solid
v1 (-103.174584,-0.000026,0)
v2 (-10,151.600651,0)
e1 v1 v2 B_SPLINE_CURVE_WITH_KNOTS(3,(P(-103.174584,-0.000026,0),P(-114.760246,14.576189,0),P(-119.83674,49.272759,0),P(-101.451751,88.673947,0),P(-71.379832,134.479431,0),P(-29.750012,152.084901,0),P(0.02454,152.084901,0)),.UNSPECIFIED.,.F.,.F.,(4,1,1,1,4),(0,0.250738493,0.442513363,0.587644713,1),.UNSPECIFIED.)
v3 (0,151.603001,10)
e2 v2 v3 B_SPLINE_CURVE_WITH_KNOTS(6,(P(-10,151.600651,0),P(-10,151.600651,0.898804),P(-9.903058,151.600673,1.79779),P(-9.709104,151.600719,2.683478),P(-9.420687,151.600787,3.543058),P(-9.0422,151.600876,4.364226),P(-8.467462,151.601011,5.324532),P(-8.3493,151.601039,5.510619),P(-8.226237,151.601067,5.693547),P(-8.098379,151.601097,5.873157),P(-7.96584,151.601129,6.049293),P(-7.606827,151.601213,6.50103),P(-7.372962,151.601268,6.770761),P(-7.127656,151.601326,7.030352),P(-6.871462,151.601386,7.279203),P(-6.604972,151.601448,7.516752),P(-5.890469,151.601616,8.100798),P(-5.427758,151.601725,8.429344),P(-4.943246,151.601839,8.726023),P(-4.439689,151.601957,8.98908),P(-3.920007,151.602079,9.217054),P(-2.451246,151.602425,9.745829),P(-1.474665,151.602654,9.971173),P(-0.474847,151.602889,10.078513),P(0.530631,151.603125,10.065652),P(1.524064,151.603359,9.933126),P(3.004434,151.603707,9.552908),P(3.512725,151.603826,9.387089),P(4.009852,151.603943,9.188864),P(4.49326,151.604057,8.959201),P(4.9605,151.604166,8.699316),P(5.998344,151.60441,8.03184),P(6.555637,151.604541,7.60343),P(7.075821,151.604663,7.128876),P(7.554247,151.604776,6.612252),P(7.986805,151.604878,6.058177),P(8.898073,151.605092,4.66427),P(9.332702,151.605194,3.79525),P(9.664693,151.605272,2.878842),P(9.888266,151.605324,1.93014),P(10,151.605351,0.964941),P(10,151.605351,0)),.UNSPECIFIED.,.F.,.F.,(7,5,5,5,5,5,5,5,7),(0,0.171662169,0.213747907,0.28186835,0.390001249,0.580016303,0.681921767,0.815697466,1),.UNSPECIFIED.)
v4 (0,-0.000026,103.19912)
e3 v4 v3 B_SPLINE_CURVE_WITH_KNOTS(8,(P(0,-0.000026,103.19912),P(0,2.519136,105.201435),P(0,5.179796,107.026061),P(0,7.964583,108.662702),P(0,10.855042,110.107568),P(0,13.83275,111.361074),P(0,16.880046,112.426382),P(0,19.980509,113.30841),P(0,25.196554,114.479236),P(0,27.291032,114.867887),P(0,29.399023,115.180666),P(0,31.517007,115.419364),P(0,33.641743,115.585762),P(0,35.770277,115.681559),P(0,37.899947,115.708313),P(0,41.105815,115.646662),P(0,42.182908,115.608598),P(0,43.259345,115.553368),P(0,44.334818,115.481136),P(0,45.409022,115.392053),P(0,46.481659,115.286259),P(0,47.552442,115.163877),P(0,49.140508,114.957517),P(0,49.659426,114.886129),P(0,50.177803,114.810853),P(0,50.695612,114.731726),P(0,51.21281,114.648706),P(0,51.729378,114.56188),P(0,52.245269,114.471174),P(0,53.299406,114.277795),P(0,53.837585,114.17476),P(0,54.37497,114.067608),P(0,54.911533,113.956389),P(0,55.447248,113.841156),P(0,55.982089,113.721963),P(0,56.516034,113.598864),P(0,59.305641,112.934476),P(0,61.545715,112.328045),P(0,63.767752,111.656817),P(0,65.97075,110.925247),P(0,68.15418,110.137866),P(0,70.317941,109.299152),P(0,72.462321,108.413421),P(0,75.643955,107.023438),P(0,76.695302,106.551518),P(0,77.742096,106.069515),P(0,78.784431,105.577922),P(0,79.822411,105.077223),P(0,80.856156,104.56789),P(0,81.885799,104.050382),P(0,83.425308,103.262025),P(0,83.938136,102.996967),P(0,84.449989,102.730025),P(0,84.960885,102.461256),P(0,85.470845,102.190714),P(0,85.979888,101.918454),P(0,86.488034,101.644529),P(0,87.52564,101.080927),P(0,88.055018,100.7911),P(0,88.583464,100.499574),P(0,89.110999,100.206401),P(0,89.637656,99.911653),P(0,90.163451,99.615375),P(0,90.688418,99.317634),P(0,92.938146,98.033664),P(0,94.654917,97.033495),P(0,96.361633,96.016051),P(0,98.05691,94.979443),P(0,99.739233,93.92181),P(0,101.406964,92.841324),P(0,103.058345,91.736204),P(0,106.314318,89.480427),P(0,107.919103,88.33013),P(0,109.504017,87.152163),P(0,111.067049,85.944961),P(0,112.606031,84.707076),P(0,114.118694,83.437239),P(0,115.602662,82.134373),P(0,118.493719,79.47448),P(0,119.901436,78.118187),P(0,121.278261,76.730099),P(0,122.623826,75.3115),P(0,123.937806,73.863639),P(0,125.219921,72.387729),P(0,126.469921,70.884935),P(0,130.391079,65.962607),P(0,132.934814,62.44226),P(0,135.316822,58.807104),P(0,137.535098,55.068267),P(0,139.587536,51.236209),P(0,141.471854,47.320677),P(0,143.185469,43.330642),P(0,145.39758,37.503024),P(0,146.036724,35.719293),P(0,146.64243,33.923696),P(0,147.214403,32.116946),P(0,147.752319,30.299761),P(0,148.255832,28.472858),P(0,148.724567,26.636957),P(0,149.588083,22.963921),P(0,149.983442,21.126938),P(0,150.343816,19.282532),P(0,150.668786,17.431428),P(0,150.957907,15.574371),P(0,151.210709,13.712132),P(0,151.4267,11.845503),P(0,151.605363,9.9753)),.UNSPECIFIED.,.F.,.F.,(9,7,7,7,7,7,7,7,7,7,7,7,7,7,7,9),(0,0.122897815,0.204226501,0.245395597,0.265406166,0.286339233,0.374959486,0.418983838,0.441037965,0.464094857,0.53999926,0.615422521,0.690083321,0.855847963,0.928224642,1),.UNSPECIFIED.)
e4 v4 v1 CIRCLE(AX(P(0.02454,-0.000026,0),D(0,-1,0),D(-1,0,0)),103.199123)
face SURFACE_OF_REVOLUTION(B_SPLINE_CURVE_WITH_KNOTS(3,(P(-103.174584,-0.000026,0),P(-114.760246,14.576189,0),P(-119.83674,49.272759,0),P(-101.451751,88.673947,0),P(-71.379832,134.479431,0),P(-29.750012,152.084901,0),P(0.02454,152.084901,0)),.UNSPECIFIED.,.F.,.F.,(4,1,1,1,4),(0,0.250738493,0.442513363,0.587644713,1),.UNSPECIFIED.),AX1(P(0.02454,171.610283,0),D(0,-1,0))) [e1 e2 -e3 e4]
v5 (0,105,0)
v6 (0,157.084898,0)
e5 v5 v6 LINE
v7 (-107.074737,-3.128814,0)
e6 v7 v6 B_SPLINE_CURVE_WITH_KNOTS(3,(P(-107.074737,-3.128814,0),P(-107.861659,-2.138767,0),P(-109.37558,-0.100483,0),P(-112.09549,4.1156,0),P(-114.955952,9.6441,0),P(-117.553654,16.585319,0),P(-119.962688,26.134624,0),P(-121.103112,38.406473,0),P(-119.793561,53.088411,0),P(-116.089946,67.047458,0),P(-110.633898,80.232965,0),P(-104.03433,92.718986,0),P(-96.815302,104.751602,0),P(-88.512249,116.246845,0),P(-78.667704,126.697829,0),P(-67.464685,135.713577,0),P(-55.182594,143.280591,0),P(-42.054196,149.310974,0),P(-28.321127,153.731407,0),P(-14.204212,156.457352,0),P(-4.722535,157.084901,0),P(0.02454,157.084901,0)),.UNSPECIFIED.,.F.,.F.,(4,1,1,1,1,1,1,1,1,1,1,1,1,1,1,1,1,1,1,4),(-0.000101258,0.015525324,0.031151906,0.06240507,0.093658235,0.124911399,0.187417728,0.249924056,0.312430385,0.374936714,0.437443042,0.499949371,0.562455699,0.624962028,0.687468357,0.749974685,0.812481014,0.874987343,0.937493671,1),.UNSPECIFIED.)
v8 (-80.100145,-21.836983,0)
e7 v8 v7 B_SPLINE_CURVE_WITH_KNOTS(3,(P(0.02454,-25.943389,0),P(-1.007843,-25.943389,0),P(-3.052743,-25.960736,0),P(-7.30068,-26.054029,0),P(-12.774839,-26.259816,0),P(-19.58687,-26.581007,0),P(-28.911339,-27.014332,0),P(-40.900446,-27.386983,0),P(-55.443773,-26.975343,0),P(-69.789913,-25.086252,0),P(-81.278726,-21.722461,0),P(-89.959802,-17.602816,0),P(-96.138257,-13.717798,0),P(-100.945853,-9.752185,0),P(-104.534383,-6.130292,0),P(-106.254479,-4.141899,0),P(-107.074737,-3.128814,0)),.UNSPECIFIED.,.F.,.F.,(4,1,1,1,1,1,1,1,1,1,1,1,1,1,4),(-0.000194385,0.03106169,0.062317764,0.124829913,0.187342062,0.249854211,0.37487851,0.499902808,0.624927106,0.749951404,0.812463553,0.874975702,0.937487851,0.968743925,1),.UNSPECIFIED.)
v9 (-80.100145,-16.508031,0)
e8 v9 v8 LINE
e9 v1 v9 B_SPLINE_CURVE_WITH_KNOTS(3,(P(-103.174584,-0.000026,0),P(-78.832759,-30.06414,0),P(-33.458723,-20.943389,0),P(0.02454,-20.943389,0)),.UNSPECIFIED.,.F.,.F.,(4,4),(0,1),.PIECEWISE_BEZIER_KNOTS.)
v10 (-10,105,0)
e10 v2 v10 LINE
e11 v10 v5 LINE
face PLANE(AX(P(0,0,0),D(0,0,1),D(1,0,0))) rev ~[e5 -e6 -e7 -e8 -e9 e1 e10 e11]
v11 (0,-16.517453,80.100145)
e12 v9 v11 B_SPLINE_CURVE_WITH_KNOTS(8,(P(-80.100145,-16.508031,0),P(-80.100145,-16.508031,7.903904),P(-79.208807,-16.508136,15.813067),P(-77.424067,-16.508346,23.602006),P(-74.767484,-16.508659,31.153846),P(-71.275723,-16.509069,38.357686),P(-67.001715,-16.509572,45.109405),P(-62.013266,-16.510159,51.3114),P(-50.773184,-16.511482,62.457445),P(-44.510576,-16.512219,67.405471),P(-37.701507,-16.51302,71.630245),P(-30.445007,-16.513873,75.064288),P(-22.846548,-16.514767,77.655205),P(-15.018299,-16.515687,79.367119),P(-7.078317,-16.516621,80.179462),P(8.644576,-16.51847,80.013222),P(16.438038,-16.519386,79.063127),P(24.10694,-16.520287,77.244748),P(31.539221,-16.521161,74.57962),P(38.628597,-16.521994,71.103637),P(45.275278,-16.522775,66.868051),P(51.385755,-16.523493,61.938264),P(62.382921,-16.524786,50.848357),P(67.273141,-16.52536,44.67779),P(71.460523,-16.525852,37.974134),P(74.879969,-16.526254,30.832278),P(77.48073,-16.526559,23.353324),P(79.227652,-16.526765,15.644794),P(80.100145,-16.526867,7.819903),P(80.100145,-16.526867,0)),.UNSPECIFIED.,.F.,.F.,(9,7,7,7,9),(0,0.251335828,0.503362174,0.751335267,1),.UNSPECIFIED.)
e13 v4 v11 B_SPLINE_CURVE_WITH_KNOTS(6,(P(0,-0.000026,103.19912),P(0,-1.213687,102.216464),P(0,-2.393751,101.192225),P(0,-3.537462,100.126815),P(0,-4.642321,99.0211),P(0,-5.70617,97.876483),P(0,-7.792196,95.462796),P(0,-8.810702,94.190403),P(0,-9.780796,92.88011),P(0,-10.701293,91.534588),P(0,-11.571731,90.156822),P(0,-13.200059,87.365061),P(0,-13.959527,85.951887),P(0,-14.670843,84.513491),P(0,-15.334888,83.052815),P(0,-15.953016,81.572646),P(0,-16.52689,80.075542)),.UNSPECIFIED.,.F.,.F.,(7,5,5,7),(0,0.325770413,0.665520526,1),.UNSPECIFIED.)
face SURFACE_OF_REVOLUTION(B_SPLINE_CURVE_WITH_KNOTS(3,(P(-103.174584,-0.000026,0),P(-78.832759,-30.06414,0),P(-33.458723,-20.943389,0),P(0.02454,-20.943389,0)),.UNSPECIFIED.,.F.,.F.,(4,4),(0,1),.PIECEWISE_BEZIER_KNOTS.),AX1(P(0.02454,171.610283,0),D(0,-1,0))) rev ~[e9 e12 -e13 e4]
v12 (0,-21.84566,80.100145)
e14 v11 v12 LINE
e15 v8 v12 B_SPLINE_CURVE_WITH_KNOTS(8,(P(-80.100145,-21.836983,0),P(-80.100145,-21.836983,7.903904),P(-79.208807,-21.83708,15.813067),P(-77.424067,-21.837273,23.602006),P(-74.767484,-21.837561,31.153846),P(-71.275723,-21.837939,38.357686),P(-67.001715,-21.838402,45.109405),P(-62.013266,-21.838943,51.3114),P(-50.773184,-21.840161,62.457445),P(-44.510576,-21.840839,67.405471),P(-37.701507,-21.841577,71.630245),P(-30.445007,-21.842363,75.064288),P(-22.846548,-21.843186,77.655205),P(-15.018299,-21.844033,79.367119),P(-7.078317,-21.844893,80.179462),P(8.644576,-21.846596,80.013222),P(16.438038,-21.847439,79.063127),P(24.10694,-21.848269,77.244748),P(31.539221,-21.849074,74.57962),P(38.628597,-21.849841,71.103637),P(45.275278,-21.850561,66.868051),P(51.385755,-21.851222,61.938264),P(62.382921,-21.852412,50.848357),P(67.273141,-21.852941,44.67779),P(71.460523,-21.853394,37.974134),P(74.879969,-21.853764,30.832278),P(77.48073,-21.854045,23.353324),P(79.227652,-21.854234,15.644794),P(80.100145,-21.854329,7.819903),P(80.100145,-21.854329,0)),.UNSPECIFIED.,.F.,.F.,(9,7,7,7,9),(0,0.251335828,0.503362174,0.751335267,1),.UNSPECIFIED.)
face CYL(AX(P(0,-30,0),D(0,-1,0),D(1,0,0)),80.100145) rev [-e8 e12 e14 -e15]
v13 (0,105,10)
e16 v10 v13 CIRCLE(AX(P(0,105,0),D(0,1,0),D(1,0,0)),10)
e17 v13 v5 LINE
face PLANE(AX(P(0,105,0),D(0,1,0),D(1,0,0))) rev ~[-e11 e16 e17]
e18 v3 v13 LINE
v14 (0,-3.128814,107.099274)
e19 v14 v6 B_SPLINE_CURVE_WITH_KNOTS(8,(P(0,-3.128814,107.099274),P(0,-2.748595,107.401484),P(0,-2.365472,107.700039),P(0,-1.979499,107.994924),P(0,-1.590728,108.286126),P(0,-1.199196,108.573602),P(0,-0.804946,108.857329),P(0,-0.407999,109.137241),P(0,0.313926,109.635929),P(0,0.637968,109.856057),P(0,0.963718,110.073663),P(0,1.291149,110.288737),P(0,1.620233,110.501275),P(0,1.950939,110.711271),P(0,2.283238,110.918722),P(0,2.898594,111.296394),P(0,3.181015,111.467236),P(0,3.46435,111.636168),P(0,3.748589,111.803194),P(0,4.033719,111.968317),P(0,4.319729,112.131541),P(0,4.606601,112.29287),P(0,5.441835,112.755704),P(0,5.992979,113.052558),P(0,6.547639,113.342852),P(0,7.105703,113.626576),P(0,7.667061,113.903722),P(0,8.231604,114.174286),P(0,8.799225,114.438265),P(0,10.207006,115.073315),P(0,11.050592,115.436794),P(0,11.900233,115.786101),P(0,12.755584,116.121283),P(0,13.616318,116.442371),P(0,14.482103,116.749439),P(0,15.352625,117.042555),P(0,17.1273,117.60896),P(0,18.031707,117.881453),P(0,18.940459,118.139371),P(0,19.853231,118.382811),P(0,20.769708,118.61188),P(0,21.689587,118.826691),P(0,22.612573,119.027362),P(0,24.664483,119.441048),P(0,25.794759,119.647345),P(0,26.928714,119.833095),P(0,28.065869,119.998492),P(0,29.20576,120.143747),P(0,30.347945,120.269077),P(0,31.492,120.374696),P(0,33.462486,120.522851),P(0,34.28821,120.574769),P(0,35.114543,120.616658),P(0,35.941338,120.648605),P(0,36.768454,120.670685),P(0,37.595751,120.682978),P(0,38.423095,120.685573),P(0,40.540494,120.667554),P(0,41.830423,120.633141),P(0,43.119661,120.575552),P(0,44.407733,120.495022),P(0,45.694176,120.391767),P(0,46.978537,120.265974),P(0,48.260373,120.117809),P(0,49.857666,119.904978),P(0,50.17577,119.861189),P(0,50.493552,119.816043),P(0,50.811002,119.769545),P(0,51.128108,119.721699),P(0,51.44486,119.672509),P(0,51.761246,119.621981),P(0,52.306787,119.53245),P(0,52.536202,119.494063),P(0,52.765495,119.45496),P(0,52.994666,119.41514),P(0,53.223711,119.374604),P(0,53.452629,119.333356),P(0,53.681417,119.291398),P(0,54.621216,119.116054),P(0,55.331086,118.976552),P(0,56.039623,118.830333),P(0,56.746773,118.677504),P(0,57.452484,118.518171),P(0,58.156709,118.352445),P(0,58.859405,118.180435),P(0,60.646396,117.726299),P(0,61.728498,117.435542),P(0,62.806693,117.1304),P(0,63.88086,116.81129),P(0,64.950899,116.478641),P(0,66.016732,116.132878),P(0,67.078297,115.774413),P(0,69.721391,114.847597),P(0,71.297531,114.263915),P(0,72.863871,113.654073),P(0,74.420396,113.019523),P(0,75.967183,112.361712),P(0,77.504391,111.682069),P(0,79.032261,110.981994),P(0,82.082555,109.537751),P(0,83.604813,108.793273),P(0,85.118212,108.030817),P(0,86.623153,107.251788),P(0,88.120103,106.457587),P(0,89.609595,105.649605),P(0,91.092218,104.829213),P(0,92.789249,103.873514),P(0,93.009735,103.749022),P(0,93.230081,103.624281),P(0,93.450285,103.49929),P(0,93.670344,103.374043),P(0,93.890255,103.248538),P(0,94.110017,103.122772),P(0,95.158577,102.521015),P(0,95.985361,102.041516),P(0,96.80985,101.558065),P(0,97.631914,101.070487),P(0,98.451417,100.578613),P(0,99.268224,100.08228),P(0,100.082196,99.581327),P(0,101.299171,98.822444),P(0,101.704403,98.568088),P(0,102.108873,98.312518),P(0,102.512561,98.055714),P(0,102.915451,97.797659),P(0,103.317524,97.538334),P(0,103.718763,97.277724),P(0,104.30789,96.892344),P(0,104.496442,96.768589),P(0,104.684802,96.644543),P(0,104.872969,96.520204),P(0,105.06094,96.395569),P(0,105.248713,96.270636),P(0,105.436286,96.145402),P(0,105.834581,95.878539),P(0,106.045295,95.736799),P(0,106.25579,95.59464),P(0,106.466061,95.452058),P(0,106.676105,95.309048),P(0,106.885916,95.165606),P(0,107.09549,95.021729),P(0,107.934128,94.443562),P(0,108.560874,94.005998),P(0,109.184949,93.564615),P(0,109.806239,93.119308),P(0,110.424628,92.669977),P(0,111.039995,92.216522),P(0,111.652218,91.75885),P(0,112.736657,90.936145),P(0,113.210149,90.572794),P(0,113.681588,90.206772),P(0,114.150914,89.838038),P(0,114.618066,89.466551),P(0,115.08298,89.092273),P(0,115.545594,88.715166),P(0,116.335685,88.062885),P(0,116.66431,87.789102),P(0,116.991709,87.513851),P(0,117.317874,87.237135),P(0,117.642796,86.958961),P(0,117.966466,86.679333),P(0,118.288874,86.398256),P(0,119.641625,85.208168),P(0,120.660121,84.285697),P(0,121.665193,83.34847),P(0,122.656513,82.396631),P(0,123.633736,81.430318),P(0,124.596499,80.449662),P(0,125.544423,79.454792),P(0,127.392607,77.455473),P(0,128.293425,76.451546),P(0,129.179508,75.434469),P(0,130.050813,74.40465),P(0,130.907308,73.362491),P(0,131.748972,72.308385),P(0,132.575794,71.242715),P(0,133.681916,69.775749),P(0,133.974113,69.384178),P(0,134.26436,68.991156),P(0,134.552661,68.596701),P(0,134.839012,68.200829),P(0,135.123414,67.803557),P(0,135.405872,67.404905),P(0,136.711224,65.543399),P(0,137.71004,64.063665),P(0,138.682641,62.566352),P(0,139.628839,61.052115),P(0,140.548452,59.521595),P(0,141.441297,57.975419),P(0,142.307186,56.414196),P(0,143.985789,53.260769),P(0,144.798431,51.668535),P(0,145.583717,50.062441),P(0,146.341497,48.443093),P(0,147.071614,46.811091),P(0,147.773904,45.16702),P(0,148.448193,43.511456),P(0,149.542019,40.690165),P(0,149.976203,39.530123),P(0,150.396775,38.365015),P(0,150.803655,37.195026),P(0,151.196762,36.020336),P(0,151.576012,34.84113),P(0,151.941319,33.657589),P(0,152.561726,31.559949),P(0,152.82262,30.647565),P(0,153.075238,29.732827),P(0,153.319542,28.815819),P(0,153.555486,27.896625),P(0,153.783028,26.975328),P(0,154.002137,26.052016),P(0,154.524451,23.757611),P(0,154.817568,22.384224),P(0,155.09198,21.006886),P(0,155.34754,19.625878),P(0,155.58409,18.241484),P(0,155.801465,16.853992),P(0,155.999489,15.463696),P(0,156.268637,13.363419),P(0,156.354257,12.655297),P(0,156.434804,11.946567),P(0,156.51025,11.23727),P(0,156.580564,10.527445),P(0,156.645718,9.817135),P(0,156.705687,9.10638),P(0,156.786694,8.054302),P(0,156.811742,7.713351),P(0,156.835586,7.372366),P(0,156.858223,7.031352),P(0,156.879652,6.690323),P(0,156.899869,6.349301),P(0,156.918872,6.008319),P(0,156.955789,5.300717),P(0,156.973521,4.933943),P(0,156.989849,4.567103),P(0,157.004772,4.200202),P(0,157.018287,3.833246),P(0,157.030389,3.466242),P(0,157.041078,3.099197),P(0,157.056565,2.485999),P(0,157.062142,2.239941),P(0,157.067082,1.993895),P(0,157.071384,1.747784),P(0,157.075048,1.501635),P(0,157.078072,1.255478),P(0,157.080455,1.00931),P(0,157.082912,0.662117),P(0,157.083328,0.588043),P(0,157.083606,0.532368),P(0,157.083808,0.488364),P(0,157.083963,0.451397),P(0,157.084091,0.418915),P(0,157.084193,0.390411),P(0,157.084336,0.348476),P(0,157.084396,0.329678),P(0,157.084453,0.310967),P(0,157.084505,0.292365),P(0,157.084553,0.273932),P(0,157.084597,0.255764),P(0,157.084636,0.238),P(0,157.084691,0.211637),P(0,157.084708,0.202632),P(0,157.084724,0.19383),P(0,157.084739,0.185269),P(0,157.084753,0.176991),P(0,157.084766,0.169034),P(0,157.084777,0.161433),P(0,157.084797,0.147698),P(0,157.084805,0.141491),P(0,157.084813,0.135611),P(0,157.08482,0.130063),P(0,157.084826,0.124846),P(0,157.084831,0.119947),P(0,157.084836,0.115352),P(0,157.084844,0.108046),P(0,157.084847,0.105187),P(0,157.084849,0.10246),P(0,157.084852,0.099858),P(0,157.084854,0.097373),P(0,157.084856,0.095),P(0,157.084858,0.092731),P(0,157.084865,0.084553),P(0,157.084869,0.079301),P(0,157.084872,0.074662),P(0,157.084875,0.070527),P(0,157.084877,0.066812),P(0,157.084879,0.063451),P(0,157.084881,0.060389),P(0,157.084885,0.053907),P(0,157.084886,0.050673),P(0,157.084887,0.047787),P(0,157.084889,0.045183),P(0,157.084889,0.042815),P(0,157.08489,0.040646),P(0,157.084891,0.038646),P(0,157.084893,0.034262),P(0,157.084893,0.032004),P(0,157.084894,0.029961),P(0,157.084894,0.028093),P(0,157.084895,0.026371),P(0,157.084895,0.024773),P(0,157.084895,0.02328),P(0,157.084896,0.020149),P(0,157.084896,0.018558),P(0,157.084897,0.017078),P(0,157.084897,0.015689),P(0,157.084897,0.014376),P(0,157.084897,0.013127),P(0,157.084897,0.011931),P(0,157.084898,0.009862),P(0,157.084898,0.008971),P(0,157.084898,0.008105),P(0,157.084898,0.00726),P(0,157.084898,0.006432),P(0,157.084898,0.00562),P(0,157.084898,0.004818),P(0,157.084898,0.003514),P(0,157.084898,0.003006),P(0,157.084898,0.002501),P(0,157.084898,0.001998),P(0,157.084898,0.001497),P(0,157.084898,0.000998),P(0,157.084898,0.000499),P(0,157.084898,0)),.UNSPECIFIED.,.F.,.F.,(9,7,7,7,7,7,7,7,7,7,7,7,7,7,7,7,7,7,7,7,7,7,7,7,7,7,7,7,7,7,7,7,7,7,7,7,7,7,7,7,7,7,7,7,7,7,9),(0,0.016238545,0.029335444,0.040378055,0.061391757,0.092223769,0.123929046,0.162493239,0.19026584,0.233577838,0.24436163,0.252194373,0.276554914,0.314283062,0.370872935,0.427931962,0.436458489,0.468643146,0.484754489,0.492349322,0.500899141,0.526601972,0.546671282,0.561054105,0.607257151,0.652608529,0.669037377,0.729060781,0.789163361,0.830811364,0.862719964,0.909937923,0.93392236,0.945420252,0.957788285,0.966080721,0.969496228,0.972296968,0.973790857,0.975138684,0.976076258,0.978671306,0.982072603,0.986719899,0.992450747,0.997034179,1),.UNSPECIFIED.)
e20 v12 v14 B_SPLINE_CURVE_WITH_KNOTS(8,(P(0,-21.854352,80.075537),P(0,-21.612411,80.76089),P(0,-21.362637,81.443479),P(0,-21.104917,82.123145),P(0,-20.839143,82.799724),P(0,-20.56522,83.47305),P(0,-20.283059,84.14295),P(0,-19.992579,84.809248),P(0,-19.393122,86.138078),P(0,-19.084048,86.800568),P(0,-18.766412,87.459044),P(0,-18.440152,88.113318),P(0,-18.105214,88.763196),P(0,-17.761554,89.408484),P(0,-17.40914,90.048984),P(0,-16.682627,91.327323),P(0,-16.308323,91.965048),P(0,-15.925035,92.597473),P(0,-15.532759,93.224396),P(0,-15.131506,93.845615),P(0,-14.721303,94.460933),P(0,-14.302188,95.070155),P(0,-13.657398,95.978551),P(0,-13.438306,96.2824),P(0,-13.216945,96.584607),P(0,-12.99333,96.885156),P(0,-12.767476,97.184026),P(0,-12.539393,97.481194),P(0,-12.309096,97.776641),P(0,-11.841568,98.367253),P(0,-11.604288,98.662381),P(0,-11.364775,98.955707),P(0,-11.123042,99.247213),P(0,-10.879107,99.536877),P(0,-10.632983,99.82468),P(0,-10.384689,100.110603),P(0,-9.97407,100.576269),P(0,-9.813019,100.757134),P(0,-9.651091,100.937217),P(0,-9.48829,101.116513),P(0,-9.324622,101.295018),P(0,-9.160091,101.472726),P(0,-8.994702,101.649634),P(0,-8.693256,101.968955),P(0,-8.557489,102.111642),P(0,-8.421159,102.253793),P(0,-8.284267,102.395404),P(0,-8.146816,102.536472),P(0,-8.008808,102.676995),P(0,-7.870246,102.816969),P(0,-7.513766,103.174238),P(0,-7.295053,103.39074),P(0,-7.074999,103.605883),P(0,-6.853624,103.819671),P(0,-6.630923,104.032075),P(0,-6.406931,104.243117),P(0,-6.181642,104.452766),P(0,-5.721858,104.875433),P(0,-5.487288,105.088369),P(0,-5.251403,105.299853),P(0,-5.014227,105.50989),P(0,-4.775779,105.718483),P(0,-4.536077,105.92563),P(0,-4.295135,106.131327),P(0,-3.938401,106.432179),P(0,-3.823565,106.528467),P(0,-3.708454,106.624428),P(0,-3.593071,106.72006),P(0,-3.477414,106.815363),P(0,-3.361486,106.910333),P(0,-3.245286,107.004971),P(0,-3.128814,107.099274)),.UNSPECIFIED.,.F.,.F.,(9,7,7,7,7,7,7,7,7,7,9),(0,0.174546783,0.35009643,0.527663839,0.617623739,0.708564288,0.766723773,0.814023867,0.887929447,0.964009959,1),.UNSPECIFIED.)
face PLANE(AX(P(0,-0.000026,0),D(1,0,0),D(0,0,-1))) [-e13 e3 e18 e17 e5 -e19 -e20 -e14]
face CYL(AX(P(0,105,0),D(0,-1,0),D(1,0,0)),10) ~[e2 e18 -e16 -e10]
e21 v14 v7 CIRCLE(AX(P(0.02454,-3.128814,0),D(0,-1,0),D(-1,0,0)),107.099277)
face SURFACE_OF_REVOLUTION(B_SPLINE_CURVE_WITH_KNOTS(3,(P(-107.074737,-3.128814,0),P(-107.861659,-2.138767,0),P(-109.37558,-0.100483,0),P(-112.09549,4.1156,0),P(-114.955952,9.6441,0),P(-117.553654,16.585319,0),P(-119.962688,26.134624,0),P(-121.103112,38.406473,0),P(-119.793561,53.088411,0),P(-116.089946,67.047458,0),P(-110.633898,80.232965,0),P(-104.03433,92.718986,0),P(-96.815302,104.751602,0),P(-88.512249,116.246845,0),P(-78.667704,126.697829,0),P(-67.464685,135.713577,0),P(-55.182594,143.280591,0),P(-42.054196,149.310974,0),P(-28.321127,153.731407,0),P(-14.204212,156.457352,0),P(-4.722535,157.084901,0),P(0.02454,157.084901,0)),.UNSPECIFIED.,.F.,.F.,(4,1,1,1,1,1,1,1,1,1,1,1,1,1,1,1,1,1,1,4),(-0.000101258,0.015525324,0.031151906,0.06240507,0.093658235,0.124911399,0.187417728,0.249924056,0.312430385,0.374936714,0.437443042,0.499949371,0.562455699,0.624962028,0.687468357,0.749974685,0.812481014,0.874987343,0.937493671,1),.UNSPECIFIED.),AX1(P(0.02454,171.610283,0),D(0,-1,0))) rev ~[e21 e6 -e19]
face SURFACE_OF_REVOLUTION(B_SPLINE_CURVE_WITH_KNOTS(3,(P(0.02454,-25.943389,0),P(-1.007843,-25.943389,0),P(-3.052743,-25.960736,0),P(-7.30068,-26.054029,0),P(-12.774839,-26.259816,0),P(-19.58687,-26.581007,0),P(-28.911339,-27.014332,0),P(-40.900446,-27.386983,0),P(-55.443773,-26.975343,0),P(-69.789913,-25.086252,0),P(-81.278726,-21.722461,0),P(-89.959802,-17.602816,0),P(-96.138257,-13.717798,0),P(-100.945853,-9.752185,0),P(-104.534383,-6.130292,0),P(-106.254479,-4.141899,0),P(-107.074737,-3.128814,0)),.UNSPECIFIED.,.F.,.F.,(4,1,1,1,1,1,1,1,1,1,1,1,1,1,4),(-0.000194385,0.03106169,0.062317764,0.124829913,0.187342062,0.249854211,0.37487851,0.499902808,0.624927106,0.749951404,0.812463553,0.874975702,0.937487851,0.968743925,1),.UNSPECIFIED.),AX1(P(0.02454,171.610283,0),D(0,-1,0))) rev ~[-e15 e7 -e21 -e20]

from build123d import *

# Parameters (mm, degrees)
SKETCH4_R           = 80.100145108
CUT_EXTRUDE2_DEPTH  = 20
CUT_EXTRUDE3_DEPTH  = 121.706010599
BOSS_EXTRUDE1_REACH = 54.085
SKETCH6_R           = 10
SKETCH7_W           = 348.912782296
SKETCH7_H           = 364.592796888
CUT_EXTRUDE4_DEPTH  = 159
SKETCH8_W           = 326.819124442
SKETCH8_H           = 332.894396065
CUT_EXTRUDE5_DEPTH  = 200


with BuildPart() as part:
    # Sketch3 → Revolve5 (revolve)
    with BuildSketch(Plane.XY):
        with BuildLine():
            Line((0.02453969, 157.084900749), (0.02453969, 152.084900749))
            add(Edge.make_bspline(
                [(-103.174583613, -2.6432e-05), (-114.760245555, 14.576189089), (-119.836740195, 49.27275863), (-101.45175109, 88.673946708), (-71.379831841, 134.479430747), (-29.75001244, 152.084900749), (0.02453969, 152.084900749)],
                knots=[0, 0, 0, 0, 0.250738493, 0.442513363, 0.587644713, 1, 1, 1, 1], degree=3))
            add(Edge.make_bspline(
                [(-103.174583613, -2.6432e-05), (-78.832759046, -30.064140021), (-33.458723298, -20.943389124), (0.02453969, -20.943389124)],
                knots=[0, 0, 0, 0, 1, 1, 1, 1], degree=3))
            Line((0.02453969, -20.943389124), (0.02453969, -25.943389124))
            add(Edge.make_bspline(
                [(0.02453969, -25.943389124), (-1.007843071, -25.943389124), (-3.05274325, -25.960735741), (-7.300680211, -26.054029266), (-12.774839269, -26.259816275), (-19.586870399, -26.581007249), (-28.911339242, -27.014332449), (-40.900445748, -27.386982651), (-55.443773123, -26.975342887), (-69.789912797, -25.08625158), (-81.278725906, -21.722461367), (-89.959801918, -17.60281584), (-96.13825684, -13.717797758), (-100.945853349, -9.752185194), (-104.534382709, -6.13029221), (-106.254478554, -4.141899361), (-107.07473695, -3.128814187)],
                knots=[-0.000194385, -0.000194385, -0.000194385, -0.000194385, 0.03106169, 0.062317764, 0.124829913, 0.187342062, 0.249854211, 0.37487851, 0.499902808, 0.624927106, 0.749951404, 0.812463553, 0.874975702, 0.937487851, 0.968743925, 1, 1, 1, 1], degree=3))
            add(Edge.make_bspline(
                [(-107.07473695, -3.128814187), (-107.861659129, -2.138767408), (-109.375579618, -0.100482773), (-112.095489807, 4.115600278), (-114.955951775, 9.644100323), (-117.55365357, 16.585319153), (-119.962688147, 26.134623726), (-121.103112226, 38.406473215), (-119.79356064, 53.088411426), (-116.089945574, 67.047457773), (-110.633897624, 80.23296506), (-104.034329909, 92.718986198), (-96.815301706, 104.751602155), (-88.512248671, 116.246845317), (-78.667704424, 126.697829164), (-67.464684594, 135.71357688), (-55.182594106, 143.280590712), (-42.054195525, 149.310974483), (-28.321126938, 153.731407172), (-14.204212291, 156.457352496), (-4.722534611, 157.084900749), (0.02453969, 157.084900749)],
                knots=[-0.000101258, -0.000101258, -0.000101258, -0.000101258, 0.015525324, 0.031151906, 0.06240507, 0.093658235, 0.124911399, 0.187417728, 0.249924056, 0.312430385, 0.374936714, 0.437443042, 0.499949371, 0.562455699, 0.624962028, 0.687468357, 0.749974685, 0.812481014, 0.874987343, 0.937493671, 1, 1, 1, 1], degree=3))
        make_face()
    revolve(axis=Axis((0.02453969, 171.610282588, 0), (0, -1, 0)))

    # Sketch4 → Cut-Extrude2 (cut)
    with BuildSketch(Plane(origin=(0, -30, 0), x_dir=(1, 0, 0), z_dir=(0, 1, 0))):
        Circle(SKETCH4_R)
    extrude(amount=CUT_EXTRUDE2_DEPTH, mode=Mode.SUBTRACT)

    # Sketch5 → Cut-Extrude3 (cut, through all)
    with BuildSketch(Plane(origin=(0, 0, 0), x_dir=(0, 0, -1), z_dir=(1, 0, 0))):
        with BuildLine():
            Line((-52.476481645, 8.136577936), (52.476481645, 8.136577936))
            ThreePointArc((52.476481645, 8.136577936), (58.138069368, 8.954648303), (63.336499377, 11.341935492))
            add(Edge.make_bspline(
                [(63.336499377, 11.341935492), (82.622361185, 23.812864951), (78.746201445, 39.317958114)],
                knots=[5.637022825, 5.637022825, 5.637022825, 6.404500867, 6.404500867, 6.404500867], degree=2, weights=[1, 0.927271268, 1]))
            ThreePointArc((78.746201445, 39.317958114), (77.929706658, 42.769255575), (77.20089719, 46.240127895))
            add(Edge.make_bspline(
                [(70.494135614, 63.047069033), (72.356334923, 60.10156835), (75.045149162, 54.673263207), (76.692738831, 48.822390655), (77.20089719, 46.240127895)],
                knots=[0.168181527, 0.168181527, 0.168181527, 0.168181527, 0.552818848, 0.845617793, 0.845617793, 0.845617793, 0.845617793], degree=3))
            ThreePointArc((70.494135614, 63.047069033), (68.293855497, 66.646255249), (66.203011989, 70.31009851))
            add(Edge.make_bspline(
                [(66.203011989, 70.31009851), (-4.427969211, 198.528374497), (-67.022107814, 68.723719713)],
                knots=[0.328274459, 0.328274459, 0.328274459, 2.851830568, 2.851830568, 2.851830568], degree=2, weights=[1, 0.304123557, 1]))
            ThreePointArc((-67.022107814, 68.723719713), (-68.159373057, 66.423614108), (-69.341813393, 64.146402461))
            add(Edge.make_bspline(
                [(-69.341813393, 64.146402461), (-73.061653072, 57.152172395), (-75.898874077, 49.79082496), (-77.836559233, 42.105665134)],
                knots=[0.114274397, 0.114274397, 0.114274397, 0.114274397, 1, 1, 1, 1], degree=3))
            add(Edge.make_bspline(
                [(-77.836559233, 42.105665134), (-84.680776254, 25.143909909), (-63.336499377, 11.341935492)],
                knots=[2.947295522, 2.947295522, 2.947295522, 3.787755136, 3.787755136, 3.787755136], degree=2, weights=[1, 0.91299521, 1]))
            ThreePointArc((-63.336499377, 11.341935492), (-58.138069368, 8.954648303), (-52.476481645, 8.136577936))
        make_face()
    extrude(amount=CUT_EXTRUDE3_DEPTH, mode=Mode.SUBTRACT)

    # Sketch6 → Boss-Extrude1 (add, up to next)
    with BuildSketch(Plane(origin=(0, 105, 0), x_dir=(1, 0, 0), z_dir=(0, 1, 0)), mode=Mode.PRIVATE) as boss_extrude1_sk1:
        Circle(SKETCH6_R)
    boss_extrude1_tool1 = extrude(boss_extrude1_sk1.sketch, amount=BOSS_EXTRUDE1_REACH, mode=Mode.PRIVATE) - part.part
    add(boss_extrude1_tool1.solids().sort_by_distance((0, 105, 0))[0])

    # Sketch7 → Cut-Extrude4 (cut)
    with BuildSketch(Plane.XY):
        Rectangle(SKETCH7_W, SKETCH7_H)
    extrude(amount=-CUT_EXTRUDE4_DEPTH, mode=Mode.SUBTRACT)

    # Sketch8 → Cut-Extrude5 (cut)
    with BuildSketch(Plane(origin=(0, 0, 0), x_dir=(0, 0, -1), z_dir=(1, 0, 0))):
        with Locations((0, -2.6432e-05)):
            Rectangle(SKETCH8_W, SKETCH8_H)
    extrude(amount=CUT_EXTRUDE5_DEPTH, mode=Mode.SUBTRACT)


solid = part.part
